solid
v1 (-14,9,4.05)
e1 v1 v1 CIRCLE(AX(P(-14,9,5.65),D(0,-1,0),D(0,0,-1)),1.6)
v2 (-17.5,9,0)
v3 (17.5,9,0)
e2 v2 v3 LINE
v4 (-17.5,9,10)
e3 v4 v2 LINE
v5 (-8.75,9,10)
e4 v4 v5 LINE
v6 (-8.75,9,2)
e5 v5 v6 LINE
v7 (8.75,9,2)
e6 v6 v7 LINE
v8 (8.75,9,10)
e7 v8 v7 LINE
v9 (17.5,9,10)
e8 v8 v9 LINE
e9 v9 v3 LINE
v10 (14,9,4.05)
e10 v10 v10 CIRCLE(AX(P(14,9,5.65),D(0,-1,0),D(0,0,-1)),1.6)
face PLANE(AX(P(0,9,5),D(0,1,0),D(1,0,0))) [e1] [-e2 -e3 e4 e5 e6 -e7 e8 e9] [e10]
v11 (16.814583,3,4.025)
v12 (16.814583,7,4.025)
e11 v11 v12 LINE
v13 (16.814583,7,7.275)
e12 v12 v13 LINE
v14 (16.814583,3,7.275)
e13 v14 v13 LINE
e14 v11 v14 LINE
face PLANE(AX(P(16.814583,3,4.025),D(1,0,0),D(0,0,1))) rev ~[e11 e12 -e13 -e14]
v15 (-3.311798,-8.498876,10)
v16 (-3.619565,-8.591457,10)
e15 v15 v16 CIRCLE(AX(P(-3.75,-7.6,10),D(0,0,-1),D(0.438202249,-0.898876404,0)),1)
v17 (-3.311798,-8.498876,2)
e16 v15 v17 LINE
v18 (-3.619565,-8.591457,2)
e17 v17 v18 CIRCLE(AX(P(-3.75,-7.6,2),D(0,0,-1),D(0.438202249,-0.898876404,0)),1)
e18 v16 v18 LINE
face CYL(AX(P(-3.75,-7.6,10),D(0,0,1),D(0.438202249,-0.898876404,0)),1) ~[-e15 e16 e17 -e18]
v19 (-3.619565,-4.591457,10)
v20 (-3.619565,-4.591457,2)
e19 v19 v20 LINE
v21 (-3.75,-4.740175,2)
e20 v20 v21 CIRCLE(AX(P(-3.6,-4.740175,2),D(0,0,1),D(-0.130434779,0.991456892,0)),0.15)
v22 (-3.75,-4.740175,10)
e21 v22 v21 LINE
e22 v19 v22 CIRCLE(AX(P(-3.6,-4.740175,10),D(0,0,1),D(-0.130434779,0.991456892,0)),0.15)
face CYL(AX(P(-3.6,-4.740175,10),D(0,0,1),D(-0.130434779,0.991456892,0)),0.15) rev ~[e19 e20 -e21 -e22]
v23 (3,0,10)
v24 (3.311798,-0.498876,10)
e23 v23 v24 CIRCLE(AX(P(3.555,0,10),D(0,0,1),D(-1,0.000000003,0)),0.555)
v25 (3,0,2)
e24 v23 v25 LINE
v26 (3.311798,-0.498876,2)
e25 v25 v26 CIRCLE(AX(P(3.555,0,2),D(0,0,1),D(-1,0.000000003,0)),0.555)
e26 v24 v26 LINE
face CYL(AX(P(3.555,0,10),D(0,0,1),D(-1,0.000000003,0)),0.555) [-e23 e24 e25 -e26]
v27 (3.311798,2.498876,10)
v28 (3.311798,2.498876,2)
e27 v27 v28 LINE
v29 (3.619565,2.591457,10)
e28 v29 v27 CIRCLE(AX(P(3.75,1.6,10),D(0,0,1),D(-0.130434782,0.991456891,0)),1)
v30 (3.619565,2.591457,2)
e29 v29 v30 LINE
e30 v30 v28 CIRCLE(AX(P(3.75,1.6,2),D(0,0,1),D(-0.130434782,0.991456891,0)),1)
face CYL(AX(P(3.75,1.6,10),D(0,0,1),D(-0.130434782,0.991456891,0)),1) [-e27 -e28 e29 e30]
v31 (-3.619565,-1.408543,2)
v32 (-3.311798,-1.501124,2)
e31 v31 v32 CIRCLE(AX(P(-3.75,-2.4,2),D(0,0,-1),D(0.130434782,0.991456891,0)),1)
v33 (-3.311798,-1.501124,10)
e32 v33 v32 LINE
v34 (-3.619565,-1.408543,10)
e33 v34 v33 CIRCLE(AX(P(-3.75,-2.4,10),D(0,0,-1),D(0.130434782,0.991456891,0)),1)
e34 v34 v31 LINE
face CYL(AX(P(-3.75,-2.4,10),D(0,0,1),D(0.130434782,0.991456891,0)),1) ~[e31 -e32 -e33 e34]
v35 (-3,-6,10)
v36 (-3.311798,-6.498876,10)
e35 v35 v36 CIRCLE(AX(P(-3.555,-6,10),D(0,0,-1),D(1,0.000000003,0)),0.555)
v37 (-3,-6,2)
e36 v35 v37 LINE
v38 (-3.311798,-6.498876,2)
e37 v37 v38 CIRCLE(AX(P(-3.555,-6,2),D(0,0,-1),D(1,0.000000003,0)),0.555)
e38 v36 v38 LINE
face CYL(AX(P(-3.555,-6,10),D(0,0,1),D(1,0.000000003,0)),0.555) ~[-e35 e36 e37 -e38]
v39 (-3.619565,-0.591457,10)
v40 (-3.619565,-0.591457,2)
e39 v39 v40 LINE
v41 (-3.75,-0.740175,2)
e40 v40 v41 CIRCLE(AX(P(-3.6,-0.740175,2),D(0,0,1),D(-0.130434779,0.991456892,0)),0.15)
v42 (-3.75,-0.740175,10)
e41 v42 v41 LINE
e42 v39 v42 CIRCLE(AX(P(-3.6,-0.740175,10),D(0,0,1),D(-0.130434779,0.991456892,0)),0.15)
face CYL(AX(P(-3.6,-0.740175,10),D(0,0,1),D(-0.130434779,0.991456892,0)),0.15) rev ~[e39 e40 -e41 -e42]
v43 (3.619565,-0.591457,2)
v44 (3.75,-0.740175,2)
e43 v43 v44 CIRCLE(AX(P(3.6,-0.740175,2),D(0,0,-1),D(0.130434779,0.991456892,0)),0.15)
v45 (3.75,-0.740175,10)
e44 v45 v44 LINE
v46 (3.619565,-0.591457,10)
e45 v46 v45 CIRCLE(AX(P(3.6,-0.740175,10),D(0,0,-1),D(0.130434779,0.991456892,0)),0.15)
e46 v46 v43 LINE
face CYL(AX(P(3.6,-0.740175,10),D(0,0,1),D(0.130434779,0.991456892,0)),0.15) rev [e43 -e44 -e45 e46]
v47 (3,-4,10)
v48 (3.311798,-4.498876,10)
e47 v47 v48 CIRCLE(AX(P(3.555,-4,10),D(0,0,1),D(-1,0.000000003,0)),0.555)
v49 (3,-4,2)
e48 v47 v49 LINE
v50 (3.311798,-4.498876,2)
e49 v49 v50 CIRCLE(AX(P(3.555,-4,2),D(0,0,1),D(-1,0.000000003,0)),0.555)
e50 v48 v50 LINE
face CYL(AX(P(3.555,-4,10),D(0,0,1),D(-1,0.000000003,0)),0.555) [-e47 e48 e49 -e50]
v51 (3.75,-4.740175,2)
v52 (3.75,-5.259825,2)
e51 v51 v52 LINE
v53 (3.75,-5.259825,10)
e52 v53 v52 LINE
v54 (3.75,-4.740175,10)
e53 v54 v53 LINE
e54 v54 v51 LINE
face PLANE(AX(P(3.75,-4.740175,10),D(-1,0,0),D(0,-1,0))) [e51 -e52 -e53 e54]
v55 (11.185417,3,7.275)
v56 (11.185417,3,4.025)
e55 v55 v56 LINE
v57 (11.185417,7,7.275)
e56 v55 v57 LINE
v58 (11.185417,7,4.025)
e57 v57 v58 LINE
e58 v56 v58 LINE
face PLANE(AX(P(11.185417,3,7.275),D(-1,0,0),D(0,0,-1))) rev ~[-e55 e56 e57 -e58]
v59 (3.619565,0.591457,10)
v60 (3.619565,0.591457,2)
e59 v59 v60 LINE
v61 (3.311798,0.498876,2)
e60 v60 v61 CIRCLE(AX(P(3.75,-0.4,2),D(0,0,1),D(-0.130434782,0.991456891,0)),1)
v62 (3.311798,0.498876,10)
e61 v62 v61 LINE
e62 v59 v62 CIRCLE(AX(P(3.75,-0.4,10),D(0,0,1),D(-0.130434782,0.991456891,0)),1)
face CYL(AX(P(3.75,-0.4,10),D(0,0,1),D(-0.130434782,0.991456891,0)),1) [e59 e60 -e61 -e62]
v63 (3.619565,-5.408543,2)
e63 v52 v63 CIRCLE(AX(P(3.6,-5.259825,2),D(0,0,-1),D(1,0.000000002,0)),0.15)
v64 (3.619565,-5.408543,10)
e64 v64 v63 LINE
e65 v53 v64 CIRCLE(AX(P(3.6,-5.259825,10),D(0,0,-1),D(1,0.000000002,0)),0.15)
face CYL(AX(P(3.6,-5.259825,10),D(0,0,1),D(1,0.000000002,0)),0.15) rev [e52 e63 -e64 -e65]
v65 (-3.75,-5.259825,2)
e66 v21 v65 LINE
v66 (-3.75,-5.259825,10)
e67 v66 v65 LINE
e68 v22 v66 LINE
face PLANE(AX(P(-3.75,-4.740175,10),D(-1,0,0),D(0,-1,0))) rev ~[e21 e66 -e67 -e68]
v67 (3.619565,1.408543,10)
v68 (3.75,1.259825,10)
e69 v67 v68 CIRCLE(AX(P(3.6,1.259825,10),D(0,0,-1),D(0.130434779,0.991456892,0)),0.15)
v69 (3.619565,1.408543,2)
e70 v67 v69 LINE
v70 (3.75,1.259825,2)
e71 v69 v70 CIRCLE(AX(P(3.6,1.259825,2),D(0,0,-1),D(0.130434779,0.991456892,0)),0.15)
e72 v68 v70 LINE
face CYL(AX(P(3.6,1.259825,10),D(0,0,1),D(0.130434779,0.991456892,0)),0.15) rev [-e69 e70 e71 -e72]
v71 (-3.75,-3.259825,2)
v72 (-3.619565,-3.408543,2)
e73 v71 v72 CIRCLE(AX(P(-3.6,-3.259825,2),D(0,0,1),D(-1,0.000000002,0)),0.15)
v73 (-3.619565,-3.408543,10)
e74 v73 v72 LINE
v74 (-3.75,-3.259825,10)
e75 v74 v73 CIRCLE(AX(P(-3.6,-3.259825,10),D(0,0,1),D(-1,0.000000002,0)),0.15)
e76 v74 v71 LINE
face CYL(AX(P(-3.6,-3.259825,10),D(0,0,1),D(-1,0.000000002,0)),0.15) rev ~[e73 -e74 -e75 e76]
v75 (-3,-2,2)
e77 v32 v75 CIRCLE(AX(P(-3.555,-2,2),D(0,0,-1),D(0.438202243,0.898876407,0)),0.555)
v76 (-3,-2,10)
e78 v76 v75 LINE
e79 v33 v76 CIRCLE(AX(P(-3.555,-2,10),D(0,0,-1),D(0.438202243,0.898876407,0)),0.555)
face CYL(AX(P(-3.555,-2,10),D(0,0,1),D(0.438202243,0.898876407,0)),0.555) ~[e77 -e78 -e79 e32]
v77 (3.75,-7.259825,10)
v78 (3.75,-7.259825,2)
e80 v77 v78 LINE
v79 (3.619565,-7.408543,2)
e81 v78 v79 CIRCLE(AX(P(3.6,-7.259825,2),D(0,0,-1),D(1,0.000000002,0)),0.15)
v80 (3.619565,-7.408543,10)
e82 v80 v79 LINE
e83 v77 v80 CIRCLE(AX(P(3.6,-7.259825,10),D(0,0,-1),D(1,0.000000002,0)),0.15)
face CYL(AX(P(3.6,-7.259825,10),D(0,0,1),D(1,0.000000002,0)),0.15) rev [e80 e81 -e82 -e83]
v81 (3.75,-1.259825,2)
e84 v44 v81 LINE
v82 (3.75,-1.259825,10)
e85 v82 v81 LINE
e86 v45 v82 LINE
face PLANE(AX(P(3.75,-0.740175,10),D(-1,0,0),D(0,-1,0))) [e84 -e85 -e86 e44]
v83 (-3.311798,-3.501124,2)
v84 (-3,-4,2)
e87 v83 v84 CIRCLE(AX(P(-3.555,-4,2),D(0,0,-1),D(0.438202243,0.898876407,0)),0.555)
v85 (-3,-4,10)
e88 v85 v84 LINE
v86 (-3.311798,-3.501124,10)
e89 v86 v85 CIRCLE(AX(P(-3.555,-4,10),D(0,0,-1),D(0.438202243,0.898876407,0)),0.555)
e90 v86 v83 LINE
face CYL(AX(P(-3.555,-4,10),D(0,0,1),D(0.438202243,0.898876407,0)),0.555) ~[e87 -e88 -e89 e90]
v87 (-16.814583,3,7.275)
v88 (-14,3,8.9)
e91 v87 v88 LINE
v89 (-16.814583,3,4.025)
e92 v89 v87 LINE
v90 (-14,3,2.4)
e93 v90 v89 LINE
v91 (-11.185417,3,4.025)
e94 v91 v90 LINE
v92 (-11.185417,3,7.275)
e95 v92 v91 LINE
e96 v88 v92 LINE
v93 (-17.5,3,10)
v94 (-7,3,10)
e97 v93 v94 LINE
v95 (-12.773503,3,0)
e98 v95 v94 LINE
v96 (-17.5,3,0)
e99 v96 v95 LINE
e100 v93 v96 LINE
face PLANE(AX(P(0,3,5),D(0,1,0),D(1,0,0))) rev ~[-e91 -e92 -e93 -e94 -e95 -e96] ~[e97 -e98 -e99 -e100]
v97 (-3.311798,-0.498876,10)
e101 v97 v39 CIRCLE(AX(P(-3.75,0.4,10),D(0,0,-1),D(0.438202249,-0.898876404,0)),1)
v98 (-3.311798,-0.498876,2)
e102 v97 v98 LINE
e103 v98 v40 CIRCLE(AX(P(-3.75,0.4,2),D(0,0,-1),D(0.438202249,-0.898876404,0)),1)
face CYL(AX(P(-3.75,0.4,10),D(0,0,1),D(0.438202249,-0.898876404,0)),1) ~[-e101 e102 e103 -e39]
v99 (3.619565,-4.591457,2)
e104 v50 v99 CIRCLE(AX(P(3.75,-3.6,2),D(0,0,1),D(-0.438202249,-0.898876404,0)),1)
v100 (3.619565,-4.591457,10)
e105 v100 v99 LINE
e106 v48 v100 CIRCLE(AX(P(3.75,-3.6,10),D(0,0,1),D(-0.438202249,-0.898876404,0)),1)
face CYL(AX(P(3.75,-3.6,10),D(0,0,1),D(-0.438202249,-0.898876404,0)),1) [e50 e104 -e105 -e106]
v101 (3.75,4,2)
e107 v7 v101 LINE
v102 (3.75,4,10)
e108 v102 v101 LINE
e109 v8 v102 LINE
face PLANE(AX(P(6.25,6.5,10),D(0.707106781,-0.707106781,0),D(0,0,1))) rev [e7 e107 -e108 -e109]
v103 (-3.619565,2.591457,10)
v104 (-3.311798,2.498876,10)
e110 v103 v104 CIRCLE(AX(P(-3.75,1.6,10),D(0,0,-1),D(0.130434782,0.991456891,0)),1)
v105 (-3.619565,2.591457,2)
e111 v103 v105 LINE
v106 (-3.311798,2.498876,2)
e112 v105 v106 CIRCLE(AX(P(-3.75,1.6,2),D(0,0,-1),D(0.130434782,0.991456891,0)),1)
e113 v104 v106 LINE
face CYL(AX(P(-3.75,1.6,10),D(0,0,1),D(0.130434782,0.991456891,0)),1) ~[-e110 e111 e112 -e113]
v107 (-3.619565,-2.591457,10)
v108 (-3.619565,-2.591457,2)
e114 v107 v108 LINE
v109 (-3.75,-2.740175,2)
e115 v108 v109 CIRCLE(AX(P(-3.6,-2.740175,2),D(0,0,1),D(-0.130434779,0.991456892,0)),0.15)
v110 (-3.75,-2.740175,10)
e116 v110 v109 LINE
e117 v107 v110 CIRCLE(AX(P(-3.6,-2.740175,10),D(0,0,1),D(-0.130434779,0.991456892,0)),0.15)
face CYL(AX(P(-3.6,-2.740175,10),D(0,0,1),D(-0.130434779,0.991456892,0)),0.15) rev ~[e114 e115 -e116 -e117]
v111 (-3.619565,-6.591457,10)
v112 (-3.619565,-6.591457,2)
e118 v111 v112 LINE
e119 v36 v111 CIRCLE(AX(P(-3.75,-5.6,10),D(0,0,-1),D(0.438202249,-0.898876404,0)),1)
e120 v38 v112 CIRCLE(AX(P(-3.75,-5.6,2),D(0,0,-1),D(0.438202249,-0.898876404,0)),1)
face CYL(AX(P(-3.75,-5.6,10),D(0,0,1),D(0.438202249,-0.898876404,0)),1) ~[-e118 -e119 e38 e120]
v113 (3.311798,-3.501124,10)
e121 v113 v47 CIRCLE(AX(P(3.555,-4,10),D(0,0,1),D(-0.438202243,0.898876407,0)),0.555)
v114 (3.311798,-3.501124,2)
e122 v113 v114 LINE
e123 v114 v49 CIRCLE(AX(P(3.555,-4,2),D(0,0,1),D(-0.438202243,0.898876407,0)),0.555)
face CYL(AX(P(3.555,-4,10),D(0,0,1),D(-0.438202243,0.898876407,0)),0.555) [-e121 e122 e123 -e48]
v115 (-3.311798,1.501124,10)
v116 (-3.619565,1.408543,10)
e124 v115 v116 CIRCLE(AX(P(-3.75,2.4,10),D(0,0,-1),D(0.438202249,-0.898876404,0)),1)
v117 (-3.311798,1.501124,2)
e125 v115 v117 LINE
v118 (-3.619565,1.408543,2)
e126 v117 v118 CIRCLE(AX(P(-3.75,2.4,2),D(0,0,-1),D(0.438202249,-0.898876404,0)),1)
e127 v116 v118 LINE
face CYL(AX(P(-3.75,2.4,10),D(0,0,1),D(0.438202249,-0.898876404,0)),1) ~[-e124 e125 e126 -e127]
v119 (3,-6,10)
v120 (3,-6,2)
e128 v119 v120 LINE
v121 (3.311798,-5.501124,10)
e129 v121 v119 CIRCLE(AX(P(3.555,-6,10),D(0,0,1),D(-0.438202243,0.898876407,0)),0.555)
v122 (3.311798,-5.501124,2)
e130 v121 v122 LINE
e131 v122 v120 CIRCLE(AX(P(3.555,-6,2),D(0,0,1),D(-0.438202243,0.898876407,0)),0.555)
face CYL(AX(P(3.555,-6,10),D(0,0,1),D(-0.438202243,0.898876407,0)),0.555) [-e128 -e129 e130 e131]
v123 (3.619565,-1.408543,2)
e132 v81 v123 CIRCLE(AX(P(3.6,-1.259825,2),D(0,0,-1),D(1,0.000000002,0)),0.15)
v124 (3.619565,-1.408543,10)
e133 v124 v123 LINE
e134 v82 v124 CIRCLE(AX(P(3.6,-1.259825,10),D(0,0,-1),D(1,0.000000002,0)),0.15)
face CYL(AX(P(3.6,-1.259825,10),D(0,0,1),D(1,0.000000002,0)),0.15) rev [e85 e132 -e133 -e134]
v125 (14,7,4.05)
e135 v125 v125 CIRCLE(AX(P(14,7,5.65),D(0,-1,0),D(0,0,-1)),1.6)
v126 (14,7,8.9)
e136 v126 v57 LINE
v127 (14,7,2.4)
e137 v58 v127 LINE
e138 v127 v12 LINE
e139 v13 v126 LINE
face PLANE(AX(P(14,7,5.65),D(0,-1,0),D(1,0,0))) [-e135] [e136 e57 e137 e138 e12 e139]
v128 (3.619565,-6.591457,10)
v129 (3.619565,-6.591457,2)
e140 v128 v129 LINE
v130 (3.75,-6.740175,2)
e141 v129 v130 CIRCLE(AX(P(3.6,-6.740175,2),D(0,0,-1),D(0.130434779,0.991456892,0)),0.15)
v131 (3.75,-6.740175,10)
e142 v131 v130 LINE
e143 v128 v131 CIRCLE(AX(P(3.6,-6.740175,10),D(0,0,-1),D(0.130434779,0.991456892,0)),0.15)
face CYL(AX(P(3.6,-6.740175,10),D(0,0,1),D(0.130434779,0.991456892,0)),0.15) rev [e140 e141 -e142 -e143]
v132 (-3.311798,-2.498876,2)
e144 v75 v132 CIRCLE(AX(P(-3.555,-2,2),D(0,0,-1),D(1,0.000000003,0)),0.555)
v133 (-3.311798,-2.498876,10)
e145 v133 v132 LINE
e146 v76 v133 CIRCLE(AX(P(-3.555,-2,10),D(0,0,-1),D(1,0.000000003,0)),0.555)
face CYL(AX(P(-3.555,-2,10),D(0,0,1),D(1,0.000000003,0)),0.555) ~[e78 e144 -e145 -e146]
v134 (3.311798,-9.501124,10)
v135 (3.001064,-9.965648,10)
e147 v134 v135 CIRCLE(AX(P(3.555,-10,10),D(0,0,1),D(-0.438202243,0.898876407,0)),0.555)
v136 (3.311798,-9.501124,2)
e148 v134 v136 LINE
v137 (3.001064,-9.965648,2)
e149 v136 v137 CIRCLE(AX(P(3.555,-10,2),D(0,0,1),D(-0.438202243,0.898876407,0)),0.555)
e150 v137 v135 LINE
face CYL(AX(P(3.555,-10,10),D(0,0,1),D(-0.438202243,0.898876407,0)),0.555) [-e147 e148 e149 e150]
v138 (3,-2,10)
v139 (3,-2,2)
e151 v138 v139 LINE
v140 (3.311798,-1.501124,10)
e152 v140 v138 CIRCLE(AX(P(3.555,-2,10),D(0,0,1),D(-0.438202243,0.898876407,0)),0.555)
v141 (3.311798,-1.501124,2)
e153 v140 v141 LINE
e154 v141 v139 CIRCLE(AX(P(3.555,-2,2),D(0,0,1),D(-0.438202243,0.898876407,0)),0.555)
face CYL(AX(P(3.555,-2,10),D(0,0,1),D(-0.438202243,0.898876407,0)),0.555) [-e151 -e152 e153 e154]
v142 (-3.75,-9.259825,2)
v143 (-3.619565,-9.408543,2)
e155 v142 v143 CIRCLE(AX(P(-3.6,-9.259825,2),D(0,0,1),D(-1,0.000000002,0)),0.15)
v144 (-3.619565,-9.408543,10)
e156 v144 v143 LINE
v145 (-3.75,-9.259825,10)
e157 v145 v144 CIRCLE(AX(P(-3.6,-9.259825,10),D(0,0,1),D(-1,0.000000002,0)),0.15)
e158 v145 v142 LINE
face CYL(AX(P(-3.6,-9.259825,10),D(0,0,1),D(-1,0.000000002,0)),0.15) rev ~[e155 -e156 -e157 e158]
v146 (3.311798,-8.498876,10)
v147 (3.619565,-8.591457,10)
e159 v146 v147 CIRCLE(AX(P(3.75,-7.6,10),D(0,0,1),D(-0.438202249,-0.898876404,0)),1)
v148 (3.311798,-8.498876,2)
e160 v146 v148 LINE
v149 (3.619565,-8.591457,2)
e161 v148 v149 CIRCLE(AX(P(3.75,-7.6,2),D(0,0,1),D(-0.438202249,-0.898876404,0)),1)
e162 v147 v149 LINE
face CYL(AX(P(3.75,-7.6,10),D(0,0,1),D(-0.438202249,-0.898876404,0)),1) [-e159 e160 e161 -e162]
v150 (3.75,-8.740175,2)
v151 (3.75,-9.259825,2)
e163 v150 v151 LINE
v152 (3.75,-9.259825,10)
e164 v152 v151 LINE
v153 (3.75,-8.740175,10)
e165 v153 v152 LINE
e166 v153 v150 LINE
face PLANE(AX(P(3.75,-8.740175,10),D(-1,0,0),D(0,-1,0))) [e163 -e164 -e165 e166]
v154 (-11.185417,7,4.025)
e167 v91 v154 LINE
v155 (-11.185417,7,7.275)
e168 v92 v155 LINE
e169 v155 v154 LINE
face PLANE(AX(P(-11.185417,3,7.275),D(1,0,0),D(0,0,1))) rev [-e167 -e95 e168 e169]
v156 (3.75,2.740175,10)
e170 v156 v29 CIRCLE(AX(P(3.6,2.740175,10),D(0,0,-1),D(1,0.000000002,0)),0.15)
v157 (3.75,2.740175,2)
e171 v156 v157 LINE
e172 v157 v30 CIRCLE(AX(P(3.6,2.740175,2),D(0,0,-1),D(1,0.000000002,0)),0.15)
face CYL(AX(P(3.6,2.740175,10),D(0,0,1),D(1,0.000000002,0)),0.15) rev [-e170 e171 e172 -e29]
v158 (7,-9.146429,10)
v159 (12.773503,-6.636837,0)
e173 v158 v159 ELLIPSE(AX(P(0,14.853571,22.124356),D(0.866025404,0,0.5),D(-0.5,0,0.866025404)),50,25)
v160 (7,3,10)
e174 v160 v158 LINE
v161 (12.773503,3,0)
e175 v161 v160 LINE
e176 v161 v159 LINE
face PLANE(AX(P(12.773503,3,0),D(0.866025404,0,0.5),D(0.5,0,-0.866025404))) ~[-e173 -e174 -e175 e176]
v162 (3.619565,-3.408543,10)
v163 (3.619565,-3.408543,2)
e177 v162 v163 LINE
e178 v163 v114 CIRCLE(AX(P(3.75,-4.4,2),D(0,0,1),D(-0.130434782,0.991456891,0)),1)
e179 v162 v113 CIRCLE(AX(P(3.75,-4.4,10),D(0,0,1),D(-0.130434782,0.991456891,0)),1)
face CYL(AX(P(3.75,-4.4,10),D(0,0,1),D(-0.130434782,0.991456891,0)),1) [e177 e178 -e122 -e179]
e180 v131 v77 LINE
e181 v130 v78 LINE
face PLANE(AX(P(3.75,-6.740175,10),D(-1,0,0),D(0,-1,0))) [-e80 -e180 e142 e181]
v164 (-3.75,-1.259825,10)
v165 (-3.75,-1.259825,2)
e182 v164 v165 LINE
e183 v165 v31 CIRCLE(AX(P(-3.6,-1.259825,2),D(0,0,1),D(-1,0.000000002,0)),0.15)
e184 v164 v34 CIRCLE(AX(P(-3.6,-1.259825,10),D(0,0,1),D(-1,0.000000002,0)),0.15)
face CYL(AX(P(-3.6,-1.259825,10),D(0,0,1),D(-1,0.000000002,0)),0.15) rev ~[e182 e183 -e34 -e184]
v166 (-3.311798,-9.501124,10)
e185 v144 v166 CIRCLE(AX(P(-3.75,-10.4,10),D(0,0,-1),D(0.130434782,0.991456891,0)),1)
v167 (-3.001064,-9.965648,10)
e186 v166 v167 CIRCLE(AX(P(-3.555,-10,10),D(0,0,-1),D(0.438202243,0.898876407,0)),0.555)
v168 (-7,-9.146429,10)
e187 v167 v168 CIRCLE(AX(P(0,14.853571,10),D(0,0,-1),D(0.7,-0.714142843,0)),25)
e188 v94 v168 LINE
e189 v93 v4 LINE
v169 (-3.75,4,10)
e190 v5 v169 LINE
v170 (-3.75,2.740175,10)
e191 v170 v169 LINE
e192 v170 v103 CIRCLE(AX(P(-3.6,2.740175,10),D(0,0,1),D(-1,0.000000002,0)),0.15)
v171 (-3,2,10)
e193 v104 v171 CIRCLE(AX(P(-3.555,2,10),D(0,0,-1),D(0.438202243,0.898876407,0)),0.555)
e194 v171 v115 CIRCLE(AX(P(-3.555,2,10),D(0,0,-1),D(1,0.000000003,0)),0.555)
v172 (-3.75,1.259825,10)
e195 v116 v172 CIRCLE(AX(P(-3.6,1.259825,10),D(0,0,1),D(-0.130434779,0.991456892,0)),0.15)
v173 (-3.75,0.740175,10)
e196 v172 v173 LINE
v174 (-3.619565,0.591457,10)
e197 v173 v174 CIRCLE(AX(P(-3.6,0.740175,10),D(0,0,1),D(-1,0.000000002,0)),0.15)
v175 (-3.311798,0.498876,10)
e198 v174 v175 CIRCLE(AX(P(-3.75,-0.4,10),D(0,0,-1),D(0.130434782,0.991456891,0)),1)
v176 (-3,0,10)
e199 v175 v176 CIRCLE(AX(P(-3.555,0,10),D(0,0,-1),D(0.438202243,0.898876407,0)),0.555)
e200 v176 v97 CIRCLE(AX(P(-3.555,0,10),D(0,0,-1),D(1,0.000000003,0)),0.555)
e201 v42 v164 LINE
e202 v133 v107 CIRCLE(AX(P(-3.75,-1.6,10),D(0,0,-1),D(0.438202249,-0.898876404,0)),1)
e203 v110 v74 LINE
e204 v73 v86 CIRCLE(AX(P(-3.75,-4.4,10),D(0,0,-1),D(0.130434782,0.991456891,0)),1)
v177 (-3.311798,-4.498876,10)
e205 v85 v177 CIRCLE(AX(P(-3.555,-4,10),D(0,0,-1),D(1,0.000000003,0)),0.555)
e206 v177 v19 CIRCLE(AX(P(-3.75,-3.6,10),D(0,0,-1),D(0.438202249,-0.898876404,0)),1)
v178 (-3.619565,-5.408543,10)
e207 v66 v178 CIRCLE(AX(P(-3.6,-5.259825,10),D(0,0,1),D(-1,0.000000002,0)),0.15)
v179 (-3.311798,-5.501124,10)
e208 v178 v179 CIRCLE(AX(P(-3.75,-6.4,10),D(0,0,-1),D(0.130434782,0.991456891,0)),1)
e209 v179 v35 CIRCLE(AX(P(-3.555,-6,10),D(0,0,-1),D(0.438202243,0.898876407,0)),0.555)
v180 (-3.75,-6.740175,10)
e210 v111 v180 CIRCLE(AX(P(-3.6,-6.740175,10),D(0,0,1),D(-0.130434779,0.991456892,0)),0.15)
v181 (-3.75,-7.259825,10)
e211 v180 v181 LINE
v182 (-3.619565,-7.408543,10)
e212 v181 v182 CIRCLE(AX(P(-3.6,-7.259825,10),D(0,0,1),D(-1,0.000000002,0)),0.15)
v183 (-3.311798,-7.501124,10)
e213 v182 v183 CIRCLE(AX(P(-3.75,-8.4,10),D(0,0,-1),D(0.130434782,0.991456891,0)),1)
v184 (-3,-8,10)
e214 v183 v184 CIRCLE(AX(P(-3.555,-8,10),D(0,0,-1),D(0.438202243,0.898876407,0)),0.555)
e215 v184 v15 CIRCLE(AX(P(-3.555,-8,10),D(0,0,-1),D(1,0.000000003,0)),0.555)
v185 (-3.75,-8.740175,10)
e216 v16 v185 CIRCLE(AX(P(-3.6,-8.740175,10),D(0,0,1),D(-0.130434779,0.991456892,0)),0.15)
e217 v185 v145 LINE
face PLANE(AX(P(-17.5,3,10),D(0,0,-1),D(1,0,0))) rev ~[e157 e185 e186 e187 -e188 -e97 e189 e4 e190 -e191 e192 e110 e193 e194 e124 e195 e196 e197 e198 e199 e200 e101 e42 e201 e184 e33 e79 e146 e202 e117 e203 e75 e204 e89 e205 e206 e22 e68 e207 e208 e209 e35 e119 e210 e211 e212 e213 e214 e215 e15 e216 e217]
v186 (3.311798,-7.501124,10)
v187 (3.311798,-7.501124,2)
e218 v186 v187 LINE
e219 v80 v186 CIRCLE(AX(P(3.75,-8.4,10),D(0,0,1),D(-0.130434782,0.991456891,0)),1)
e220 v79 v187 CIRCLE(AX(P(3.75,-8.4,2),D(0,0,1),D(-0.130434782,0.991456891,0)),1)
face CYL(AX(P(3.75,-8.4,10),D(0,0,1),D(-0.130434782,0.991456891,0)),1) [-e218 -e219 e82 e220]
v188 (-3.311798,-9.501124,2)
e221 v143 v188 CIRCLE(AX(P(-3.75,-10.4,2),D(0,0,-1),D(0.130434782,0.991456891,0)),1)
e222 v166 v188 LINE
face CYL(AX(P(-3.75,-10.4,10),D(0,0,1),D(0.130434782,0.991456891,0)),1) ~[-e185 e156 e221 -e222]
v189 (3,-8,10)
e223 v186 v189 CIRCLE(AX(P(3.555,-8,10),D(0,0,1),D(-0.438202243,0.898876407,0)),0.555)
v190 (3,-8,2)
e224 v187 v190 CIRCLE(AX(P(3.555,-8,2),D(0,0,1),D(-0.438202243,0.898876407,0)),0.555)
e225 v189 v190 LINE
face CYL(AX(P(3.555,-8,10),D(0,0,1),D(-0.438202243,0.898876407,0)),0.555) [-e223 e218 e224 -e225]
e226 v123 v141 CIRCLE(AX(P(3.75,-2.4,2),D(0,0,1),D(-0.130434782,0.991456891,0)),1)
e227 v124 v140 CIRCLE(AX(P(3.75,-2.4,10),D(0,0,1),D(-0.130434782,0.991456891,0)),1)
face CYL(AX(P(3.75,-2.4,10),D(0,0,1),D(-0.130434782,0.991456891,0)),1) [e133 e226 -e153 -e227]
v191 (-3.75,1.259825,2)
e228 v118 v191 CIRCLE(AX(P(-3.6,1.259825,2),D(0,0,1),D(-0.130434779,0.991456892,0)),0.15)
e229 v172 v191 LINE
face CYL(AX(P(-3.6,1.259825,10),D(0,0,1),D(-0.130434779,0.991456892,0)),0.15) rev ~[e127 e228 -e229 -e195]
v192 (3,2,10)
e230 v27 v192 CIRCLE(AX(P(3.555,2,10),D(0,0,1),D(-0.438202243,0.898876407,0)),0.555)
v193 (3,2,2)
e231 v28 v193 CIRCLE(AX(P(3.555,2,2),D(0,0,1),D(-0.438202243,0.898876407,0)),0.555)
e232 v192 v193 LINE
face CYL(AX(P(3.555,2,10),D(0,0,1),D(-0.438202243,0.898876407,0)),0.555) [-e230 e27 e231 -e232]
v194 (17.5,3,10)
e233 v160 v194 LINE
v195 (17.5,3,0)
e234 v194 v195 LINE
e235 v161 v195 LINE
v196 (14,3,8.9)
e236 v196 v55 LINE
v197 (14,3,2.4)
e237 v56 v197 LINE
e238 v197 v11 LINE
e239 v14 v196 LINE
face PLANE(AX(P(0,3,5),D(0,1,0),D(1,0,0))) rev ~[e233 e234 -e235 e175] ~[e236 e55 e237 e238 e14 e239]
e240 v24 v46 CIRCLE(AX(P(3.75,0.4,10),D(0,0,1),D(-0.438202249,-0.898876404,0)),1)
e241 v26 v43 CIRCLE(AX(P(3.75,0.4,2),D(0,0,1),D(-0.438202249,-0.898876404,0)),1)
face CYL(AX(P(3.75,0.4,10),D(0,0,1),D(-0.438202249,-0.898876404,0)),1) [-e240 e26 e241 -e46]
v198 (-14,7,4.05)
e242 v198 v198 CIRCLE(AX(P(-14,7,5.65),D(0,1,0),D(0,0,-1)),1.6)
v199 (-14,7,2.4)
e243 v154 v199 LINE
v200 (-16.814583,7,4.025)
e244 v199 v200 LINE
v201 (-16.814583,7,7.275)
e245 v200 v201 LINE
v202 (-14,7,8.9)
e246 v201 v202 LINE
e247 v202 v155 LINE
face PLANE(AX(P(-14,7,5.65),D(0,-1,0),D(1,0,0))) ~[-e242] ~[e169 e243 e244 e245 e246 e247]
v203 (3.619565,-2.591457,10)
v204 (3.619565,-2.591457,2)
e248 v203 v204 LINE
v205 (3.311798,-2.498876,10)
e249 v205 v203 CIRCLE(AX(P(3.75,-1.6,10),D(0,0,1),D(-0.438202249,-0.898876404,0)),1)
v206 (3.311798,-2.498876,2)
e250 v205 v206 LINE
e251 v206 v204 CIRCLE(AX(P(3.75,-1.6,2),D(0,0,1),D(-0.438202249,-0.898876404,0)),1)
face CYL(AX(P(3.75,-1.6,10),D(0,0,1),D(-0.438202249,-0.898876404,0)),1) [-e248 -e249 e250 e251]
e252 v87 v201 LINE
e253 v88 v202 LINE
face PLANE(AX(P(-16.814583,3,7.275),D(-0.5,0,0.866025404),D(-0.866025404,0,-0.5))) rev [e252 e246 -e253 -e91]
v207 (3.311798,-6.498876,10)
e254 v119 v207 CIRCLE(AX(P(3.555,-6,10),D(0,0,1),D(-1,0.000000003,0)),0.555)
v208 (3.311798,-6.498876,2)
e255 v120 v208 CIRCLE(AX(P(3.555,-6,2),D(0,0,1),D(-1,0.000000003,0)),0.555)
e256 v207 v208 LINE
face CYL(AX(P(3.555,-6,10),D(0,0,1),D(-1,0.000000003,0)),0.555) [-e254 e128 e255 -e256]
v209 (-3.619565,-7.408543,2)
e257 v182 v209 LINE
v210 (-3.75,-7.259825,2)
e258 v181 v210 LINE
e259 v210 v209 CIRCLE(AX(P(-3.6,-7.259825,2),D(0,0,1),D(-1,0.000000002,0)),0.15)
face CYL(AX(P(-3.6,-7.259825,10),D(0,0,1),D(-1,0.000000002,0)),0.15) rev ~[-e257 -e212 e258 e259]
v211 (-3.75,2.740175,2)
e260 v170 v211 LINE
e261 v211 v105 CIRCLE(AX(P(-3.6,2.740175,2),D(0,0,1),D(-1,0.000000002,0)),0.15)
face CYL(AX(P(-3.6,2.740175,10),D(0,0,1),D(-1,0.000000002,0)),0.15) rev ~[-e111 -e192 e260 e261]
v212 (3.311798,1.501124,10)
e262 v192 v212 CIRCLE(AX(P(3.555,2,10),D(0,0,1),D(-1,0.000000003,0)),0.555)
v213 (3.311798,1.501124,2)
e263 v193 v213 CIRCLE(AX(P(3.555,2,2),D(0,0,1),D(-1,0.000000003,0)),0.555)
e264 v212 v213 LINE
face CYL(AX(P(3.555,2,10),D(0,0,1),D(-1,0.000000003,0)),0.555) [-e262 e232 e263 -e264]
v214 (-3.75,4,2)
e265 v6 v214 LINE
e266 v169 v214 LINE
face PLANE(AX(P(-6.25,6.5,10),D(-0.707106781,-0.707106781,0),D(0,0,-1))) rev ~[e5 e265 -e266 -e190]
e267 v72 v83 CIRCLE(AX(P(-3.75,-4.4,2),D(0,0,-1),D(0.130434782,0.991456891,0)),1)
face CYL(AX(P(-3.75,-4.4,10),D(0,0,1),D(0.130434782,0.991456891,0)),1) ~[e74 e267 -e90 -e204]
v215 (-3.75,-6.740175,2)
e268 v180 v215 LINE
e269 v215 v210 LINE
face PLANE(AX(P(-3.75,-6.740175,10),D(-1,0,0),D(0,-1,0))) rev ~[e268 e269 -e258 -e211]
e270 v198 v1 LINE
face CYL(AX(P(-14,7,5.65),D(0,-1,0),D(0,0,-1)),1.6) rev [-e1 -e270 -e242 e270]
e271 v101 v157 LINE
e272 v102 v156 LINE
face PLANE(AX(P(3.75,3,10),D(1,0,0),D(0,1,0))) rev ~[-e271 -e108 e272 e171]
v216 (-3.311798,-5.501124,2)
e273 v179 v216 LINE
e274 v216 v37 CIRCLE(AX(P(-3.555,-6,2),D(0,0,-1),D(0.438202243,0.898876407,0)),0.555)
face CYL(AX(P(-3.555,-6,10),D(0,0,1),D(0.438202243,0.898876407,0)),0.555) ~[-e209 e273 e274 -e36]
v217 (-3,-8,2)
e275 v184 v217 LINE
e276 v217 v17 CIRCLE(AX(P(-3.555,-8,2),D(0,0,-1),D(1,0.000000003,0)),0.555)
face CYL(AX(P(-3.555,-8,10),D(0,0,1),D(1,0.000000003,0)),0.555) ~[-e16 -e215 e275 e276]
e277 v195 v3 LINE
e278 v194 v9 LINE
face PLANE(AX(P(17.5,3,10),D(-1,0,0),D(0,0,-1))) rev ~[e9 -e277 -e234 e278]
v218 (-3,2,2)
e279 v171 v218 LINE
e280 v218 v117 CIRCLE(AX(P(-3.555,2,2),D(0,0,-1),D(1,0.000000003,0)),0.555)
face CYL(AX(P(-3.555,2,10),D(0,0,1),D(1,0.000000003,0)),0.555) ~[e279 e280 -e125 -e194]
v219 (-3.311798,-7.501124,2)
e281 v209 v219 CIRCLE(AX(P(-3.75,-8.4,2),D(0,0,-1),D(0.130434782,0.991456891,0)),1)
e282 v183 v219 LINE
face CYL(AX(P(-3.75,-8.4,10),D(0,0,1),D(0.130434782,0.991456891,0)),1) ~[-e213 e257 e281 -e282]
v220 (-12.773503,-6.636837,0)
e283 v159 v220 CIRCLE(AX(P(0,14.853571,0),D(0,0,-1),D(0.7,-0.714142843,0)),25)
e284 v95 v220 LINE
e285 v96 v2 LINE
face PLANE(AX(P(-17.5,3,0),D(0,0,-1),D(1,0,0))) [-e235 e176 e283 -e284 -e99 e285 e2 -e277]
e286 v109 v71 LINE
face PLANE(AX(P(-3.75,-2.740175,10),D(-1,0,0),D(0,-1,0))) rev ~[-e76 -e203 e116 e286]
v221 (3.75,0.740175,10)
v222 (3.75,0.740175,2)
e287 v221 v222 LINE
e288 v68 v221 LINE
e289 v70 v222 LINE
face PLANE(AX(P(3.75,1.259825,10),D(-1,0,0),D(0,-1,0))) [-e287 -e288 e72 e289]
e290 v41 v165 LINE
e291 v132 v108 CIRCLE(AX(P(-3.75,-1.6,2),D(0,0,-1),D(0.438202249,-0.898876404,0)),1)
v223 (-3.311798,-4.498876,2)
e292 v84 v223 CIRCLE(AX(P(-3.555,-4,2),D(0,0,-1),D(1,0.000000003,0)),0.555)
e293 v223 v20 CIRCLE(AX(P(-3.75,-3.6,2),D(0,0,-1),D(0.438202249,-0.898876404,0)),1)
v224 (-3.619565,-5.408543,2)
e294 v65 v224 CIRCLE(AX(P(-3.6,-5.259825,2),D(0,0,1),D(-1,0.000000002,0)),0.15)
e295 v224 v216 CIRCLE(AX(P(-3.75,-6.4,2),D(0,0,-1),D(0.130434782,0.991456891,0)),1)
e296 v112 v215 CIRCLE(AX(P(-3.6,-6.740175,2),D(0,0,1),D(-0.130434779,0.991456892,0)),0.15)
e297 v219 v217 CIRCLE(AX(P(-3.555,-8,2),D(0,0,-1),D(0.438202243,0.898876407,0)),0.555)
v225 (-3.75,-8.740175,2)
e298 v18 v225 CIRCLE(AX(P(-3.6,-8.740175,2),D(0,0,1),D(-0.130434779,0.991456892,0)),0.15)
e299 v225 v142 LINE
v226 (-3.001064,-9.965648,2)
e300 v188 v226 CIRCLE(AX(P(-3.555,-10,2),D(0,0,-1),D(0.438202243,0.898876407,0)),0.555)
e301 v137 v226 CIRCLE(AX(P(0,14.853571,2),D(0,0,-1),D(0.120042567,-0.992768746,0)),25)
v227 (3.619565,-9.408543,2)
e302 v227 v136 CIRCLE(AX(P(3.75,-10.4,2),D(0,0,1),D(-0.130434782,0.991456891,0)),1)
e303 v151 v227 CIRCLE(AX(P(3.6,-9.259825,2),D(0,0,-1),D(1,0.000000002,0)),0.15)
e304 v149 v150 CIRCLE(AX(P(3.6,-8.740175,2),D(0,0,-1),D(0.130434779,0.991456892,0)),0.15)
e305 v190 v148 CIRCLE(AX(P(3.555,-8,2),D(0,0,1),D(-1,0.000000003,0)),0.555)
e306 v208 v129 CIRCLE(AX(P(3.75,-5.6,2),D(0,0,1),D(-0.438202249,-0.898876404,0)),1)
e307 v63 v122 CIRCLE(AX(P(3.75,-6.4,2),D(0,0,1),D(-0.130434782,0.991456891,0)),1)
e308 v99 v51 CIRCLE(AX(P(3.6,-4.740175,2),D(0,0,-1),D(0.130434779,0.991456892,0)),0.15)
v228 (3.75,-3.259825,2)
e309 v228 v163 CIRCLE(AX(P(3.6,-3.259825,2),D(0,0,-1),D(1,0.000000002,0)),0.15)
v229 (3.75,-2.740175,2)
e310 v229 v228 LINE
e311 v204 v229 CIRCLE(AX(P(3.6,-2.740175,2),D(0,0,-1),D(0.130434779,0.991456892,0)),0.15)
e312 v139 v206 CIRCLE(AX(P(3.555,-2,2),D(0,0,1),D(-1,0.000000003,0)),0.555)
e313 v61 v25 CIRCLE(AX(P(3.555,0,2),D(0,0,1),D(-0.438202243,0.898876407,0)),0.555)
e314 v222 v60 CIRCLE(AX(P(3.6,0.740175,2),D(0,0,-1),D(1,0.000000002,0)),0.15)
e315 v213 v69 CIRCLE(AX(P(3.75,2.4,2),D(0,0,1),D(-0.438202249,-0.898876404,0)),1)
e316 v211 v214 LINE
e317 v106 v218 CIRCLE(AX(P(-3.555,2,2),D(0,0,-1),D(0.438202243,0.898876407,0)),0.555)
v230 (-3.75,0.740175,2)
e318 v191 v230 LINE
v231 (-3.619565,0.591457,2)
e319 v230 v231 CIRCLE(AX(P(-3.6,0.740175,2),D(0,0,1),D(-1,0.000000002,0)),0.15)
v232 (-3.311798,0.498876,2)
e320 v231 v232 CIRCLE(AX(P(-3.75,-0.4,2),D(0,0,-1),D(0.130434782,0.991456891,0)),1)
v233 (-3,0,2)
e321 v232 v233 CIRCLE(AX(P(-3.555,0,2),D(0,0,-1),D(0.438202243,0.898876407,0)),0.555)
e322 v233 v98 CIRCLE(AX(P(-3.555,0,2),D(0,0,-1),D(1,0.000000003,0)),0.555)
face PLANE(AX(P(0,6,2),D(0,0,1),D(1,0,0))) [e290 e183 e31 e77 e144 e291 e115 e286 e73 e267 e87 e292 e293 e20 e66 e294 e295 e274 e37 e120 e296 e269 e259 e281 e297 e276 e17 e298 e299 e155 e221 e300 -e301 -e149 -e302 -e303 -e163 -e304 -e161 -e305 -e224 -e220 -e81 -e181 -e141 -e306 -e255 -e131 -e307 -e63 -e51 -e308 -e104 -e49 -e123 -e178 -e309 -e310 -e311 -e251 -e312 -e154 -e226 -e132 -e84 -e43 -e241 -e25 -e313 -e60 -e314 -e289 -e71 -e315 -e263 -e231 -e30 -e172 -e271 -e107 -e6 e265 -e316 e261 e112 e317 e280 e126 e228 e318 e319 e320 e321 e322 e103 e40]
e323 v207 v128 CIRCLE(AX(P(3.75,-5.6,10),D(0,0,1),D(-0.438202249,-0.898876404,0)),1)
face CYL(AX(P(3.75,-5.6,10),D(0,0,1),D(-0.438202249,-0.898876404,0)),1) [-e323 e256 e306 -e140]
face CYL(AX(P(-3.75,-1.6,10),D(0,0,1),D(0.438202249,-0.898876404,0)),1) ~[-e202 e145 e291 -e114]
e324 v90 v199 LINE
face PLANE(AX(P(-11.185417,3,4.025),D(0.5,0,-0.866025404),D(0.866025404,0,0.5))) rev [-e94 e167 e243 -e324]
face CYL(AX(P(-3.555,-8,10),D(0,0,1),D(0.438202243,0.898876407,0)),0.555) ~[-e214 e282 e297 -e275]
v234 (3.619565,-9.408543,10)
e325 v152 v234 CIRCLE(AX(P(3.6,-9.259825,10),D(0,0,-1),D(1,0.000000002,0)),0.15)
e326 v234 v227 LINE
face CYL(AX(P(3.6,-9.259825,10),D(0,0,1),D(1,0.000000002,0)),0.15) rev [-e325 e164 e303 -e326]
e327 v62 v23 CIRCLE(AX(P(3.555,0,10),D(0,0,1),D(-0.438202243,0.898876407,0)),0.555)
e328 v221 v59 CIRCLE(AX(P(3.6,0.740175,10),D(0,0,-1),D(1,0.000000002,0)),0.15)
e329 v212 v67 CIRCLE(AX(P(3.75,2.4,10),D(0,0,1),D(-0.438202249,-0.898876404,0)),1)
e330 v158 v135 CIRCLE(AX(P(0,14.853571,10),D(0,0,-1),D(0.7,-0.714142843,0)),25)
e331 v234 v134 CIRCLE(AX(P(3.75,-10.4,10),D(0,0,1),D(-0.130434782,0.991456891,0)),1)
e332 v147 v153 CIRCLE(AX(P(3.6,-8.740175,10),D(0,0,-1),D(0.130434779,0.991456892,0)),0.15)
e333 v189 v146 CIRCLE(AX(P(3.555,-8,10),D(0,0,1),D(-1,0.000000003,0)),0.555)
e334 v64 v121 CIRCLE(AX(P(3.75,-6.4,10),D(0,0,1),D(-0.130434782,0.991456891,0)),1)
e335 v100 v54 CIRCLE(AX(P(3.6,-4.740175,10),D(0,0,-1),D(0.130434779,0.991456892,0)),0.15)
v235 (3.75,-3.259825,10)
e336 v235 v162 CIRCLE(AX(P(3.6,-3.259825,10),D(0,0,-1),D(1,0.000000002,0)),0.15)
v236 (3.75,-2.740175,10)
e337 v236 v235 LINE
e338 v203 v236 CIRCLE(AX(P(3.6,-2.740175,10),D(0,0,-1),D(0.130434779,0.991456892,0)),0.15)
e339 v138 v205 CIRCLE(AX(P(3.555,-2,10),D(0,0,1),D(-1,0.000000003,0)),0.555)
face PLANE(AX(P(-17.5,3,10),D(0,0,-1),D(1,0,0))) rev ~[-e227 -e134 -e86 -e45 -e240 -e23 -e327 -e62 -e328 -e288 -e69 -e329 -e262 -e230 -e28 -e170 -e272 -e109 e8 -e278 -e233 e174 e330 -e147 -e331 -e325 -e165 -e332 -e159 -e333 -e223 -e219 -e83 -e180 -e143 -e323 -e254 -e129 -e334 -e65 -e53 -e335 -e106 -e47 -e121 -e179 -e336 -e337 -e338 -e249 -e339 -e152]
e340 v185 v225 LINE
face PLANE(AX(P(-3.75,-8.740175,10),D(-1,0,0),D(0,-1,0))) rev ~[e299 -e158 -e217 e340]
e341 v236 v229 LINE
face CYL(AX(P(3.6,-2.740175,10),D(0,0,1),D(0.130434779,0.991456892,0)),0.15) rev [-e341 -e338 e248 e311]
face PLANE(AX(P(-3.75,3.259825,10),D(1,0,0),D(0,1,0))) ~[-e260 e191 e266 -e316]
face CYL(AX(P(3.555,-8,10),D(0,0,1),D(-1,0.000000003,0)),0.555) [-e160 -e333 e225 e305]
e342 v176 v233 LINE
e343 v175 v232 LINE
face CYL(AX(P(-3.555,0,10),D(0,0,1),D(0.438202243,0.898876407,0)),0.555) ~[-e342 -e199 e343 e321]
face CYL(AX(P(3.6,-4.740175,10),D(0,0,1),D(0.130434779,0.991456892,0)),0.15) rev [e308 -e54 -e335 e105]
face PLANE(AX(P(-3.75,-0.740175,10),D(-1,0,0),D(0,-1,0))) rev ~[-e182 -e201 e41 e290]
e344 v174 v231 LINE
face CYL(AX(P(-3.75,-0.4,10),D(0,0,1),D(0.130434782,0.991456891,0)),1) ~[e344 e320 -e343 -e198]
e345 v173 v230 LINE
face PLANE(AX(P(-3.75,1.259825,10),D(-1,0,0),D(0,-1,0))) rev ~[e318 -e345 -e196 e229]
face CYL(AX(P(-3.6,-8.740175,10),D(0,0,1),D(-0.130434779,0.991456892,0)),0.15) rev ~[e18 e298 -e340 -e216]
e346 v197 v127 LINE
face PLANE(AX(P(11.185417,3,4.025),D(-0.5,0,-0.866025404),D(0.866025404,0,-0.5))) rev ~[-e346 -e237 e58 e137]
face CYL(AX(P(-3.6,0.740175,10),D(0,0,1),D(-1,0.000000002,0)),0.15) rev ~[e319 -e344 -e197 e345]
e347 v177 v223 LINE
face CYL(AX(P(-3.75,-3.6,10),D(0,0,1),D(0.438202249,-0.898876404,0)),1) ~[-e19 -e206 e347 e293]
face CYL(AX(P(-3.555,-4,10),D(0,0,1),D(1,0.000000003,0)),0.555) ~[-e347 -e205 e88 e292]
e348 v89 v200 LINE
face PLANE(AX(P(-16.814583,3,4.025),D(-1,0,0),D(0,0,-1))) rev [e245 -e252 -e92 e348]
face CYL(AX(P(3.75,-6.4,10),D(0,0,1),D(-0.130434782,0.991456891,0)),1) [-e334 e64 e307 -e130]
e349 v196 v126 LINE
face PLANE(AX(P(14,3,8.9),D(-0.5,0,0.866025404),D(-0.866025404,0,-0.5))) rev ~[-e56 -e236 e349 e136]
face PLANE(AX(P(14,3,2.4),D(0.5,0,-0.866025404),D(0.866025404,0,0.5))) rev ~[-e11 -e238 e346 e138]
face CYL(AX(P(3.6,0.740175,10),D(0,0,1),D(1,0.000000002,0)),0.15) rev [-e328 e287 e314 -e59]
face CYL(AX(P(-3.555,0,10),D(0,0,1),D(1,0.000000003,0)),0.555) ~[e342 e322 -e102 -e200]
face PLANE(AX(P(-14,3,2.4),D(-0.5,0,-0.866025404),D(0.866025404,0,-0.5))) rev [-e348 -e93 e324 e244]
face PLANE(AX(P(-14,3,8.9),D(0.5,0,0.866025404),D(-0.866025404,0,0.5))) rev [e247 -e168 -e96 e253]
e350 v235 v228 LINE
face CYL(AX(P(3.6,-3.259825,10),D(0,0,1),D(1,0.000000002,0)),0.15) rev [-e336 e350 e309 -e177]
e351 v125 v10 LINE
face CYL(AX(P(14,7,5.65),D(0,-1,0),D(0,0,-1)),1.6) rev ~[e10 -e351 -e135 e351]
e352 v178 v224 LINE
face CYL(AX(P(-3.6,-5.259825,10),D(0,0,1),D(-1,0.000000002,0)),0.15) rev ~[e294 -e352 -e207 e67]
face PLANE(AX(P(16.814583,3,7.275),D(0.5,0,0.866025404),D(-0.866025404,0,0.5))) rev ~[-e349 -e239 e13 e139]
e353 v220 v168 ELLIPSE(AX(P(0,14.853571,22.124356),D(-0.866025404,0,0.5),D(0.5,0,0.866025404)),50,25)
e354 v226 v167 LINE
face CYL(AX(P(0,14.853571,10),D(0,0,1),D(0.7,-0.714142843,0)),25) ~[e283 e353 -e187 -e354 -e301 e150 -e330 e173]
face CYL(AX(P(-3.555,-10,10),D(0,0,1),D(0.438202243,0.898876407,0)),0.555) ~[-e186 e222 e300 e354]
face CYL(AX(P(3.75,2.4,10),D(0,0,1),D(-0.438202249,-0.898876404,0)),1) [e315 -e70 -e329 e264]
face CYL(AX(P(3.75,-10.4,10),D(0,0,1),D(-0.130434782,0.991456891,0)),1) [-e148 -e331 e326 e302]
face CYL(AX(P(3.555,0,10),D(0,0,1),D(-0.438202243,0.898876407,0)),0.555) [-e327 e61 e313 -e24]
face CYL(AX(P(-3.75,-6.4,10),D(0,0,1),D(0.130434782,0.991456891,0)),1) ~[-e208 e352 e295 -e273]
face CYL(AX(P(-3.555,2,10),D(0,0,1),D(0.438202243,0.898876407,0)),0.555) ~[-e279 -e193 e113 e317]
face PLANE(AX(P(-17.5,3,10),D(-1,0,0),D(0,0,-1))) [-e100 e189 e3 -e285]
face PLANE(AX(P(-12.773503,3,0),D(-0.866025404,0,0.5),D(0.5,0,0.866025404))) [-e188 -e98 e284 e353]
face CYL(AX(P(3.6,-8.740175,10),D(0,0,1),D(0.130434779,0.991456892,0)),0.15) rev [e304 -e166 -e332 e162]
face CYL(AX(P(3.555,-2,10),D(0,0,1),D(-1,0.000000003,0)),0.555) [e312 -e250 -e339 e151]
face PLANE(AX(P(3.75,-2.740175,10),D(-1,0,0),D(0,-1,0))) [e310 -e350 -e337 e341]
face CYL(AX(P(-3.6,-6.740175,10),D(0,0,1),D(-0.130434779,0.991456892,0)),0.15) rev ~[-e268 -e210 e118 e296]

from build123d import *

# Parameters (mm, degrees)
SKETCH1_W            = 35
SKETCH1_H            = 6
BOSS_EXTRUDE1_DEPTH  = 10
BOSS_EXTRUDE2_DEPTH  = 10
SKETCH4_W            = 6
SKETCH4_H            = 13.146428929
CUT_EXTRUDE1_DEPTH   = 8
CUT_EXTRUDE2_DEPTH   = 8
LPATTERN2_COUNT      = 10
LPATTERN2_PITCH      = 2
MIRROR1_COPY_1_DEPTH = 8
MIRROR1_COPY_2_DEPTH = 8
MIRROR1_COPY_3_DEPTH = 8
MIRROR1_COPY_4_DEPTH = 8
MIRROR1_COPY_5_DEPTH = 8
MIRROR1_COPY_6_DEPTH = 8
MIRROR1_COPY_7_DEPTH = 8
MIRROR1_COPY_8_DEPTH = 8
MIRROR1_COPY_9_DEPTH = 8
CUT_EXTRUDE3_DEPTH   = 25.064051894
SKETCH7_W            = 35
SKETCH7_H            = 10
BOSS_EXTRUDE3_DEPTH  = 6
SKETCH8_W            = 7.5
SKETCH8_H            = 6
CUT_EXTRUDE4_DEPTH   = 8
CUT_EXTRUDE5_DEPTH   = 4
SKETCH10_R           = 1.6
CUT_EXTRUDE6_DEPTH   = 27.462237717
CHAMFER1_SIZE        = 5


with BuildPart() as part:
    # Sketch1 → Boss-Extrude1 (new body)
    with BuildSketch(Plane.XY):
        Rectangle(SKETCH1_W, SKETCH1_H)
    extrude(amount=BOSS_EXTRUDE1_DEPTH)

    # Sketch2 → Boss-Extrude2 (add)
    with BuildSketch(Plane.XY.offset(10)):
        with BuildLine():
            Line((-17.5, -3), (17.5, -3))
            ThreePointArc((17.5, -3), (0, -10.146428929), (-17.5, -3))
        make_face()
    extrude(amount=-BOSS_EXTRUDE2_DEPTH)

    # Sketch4 → Cut-Extrude1 (cut)
    with BuildSketch(Plane.XY.offset(10)):
        with Locations((0, -3.573214465)):
            Rectangle(SKETCH4_W, SKETCH4_H)
    extrude(amount=-CUT_EXTRUDE1_DEPTH, mode=Mode.SUBTRACT)

    # Sketch5 → Cut-Extrude2 (cut)
    with BuildSketch(Plane.XY.offset(10)):
        with BuildLine():
            Line((3, 2), (3, 4))
            ThreePointArc((3, 4), (3.084360941, 3.705850588), (3.311797753, 3.501123596))
            ThreePointArc((3.311797753, 3.501123596), (3.461937846, 3.442388286), (3.619565217, 3.408543109))
            ThreePointArc((3.619565217, 3.408543109), (3.712771412, 3.358731646), (3.75, 3.259824575))
            Line((3.75, 3.259824575), (3.75, 2.740175425))
            ThreePointArc((3.75, 2.740175425), (3.712771412, 2.641268354), (3.619565217, 2.591456891))
            ThreePointArc((3.619565217, 2.591456891), (3.461937846, 2.557611714), (3.311797753, 2.498876404))
            ThreePointArc((3.311797753, 2.498876404), (3.084360941, 2.294149412), (3, 2))
        make_face()
    cut_extrude2 = extrude(amount=-CUT_EXTRUDE2_DEPTH, mode=Mode.SUBTRACT)

    # LPattern2: Cut-Extrude2 ×10
    with Locations(*[(0, -i * LPATTERN2_PITCH, 0) for i in range(1, LPATTERN2_COUNT)]):
        add(cut_extrude2, mode=Mode.SUBTRACT)

    # Mirror1: Cut-Extrude2 across plane
    add(cut_extrude2.mirror(Plane(origin=(0, 0, 0), x_dir=(0, 0, 1), z_dir=(1, 0, 0))), mode=Mode.SUBTRACT)

    # Mirror1 copy 1 sketch → Mirror1 copy 1 (cut)
    with BuildSketch(Plane(origin=(0, -2, 10), x_dir=(-1, 0, 0), z_dir=(0, 0, 1))):
        with BuildLine():
            Line((3, -2), (3, -4))
            ThreePointArc((3, -4), (3.084360941, -3.705850588), (3.311797753, -3.501123596))
            ThreePointArc((3.311797753, -3.501123596), (3.461937846, -3.442388286), (3.619565217, -3.408543109))
            ThreePointArc((3.619565217, -3.408543109), (3.712771412, -3.358731646), (3.75, -3.259824575))
            Line((3.75, -3.259824575), (3.75, -2.740175425))
            ThreePointArc((3.75, -2.740175425), (3.712771412, -2.641268354), (3.619565217, -2.591456891))
            ThreePointArc((3.619565217, -2.591456891), (3.461937846, -2.557611714), (3.311797753, -2.498876404))
            ThreePointArc((3.311797753, -2.498876404), (3.084360941, -2.294149412), (3, -2))
        make_face()
    extrude(amount=-MIRROR1_COPY_1_DEPTH, mode=Mode.SUBTRACT)

    # Mirror1 copy 2 sketch → Mirror1 copy 2 (cut)
    with BuildSketch(Plane(origin=(0, -4, 10), x_dir=(-1, 0, 0), z_dir=(0, 0, 1))):
        with BuildLine():
            Line((3, -2), (3, -4))
            ThreePointArc((3, -4), (3.084360941, -3.705850588), (3.311797753, -3.501123596))
            ThreePointArc((3.311797753, -3.501123596), (3.461937846, -3.442388286), (3.619565217, -3.408543109))
            ThreePointArc((3.619565217, -3.408543109), (3.712771412, -3.358731646), (3.75, -3.259824575))
            Line((3.75, -3.259824575), (3.75, -2.740175425))
            ThreePointArc((3.75, -2.740175425), (3.712771412, -2.641268354), (3.619565217, -2.591456891))
            ThreePointArc((3.619565217, -2.591456891), (3.461937846, -2.557611714), (3.311797753, -2.498876404))
            ThreePointArc((3.311797753, -2.498876404), (3.084360941, -2.294149412), (3, -2))
        make_face()
    extrude(amount=-MIRROR1_COPY_2_DEPTH, mode=Mode.SUBTRACT)

    # Mirror1 copy 3 sketch → Mirror1 copy 3 (cut)
    with BuildSketch(Plane(origin=(0, -6, 10), x_dir=(-1, 0, 0), z_dir=(0, 0, 1))):
        with BuildLine():
            Line((3, -2), (3, -4))
            ThreePointArc((3, -4), (3.084360941, -3.705850588), (3.311797753, -3.501123596))
            ThreePointArc((3.311797753, -3.501123596), (3.461937846, -3.442388286), (3.619565217, -3.408543109))
            ThreePointArc((3.619565217, -3.408543109), (3.712771412, -3.358731646), (3.75, -3.259824575))
            Line((3.75, -3.259824575), (3.75, -2.740175425))
            ThreePointArc((3.75, -2.740175425), (3.712771412, -2.641268354), (3.619565217, -2.591456891))
            ThreePointArc((3.619565217, -2.591456891), (3.461937846, -2.557611714), (3.311797753, -2.498876404))
            ThreePointArc((3.311797753, -2.498876404), (3.084360941, -2.294149412), (3, -2))
        make_face()
    extrude(amount=-MIRROR1_COPY_3_DEPTH, mode=Mode.SUBTRACT)

    # Mirror1 copy 4 sketch → Mirror1 copy 4 (cut)
    with BuildSketch(Plane(origin=(0, -8, 10), x_dir=(-1, 0, 0), z_dir=(0, 0, 1))):
        with BuildLine():
            Line((3, -2), (3, -4))
            ThreePointArc((3, -4), (3.084360941, -3.705850588), (3.311797753, -3.501123596))
            ThreePointArc((3.311797753, -3.501123596), (3.461937846, -3.442388286), (3.619565217, -3.408543109))
            ThreePointArc((3.619565217, -3.408543109), (3.712771412, -3.358731646), (3.75, -3.259824575))
            Line((3.75, -3.259824575), (3.75, -2.740175425))
            ThreePointArc((3.75, -2.740175425), (3.712771412, -2.641268354), (3.619565217, -2.591456891))
            ThreePointArc((3.619565217, -2.591456891), (3.461937846, -2.557611714), (3.311797753, -2.498876404))
            ThreePointArc((3.311797753, -2.498876404), (3.084360941, -2.294149412), (3, -2))
        make_face()
    extrude(amount=-MIRROR1_COPY_4_DEPTH, mode=Mode.SUBTRACT)

    # Mirror1 copy 5 sketch → Mirror1 copy 5 (cut)
    with BuildSketch(Plane(origin=(0, -10, 10), x_dir=(-1, 0, 0), z_dir=(0, 0, 1))):
        with BuildLine():
            Line((3, -2), (3, -4))
            ThreePointArc((3, -4), (3.084360941, -3.705850588), (3.311797753, -3.501123596))
            ThreePointArc((3.311797753, -3.501123596), (3.461937846, -3.442388286), (3.619565217, -3.408543109))
            ThreePointArc((3.619565217, -3.408543109), (3.712771412, -3.358731646), (3.75, -3.259824575))
            Line((3.75, -3.259824575), (3.75, -2.740175425))
            ThreePointArc((3.75, -2.740175425), (3.712771412, -2.641268354), (3.619565217, -2.591456891))
            ThreePointArc((3.619565217, -2.591456891), (3.461937846, -2.557611714), (3.311797753, -2.498876404))
            ThreePointArc((3.311797753, -2.498876404), (3.084360941, -2.294149412), (3, -2))
        make_face()
    extrude(amount=-MIRROR1_COPY_5_DEPTH, mode=Mode.SUBTRACT)

    # Mirror1 copy 6 sketch → Mirror1 copy 6 (cut)
    with BuildSketch(Plane(origin=(0, -12, 10), x_dir=(-1, 0, 0), z_dir=(0, 0, 1))):
        with BuildLine():
            Line((3, -2), (3, -4))
            ThreePointArc((3, -4), (3.084360941, -3.705850588), (3.311797753, -3.501123596))
            ThreePointArc((3.311797753, -3.501123596), (3.461937846, -3.442388286), (3.619565217, -3.408543109))
            ThreePointArc((3.619565217, -3.408543109), (3.712771412, -3.358731646), (3.75, -3.259824575))
            Line((3.75, -3.259824575), (3.75, -2.740175425))
            ThreePointArc((3.75, -2.740175425), (3.712771412, -2.641268354), (3.619565217, -2.591456891))
            ThreePointArc((3.619565217, -2.591456891), (3.461937846, -2.557611714), (3.311797753, -2.498876404))
            ThreePointArc((3.311797753, -2.498876404), (3.084360941, -2.294149412), (3, -2))
        make_face()
    extrude(amount=-MIRROR1_COPY_6_DEPTH, mode=Mode.SUBTRACT)

    # Mirror1 copy 7 sketch → Mirror1 copy 7 (cut)
    with BuildSketch(Plane(origin=(0, -14, 10), x_dir=(-1, 0, 0), z_dir=(0, 0, 1))):
        with BuildLine():
            Line((3, -2), (3, -4))
            ThreePointArc((3, -4), (3.084360941, -3.705850588), (3.311797753, -3.501123596))
            ThreePointArc((3.311797753, -3.501123596), (3.461937846, -3.442388286), (3.619565217, -3.408543109))
            ThreePointArc((3.619565217, -3.408543109), (3.712771412, -3.358731646), (3.75, -3.259824575))
            Line((3.75, -3.259824575), (3.75, -2.740175425))
            ThreePointArc((3.75, -2.740175425), (3.712771412, -2.641268354), (3.619565217, -2.591456891))
            ThreePointArc((3.619565217, -2.591456891), (3.461937846, -2.557611714), (3.311797753, -2.498876404))
            ThreePointArc((3.311797753, -2.498876404), (3.084360941, -2.294149412), (3, -2))
        make_face()
    extrude(amount=-MIRROR1_COPY_7_DEPTH, mode=Mode.SUBTRACT)

    # Mirror1 copy 8 sketch → Mirror1 copy 8 (cut)
    with BuildSketch(Plane(origin=(0, -16, 10), x_dir=(-1, 0, 0), z_dir=(0, 0, 1))):
        with BuildLine():
            Line((3, -2), (3, -4))
            ThreePointArc((3, -4), (3.084360941, -3.705850588), (3.311797753, -3.501123596))
            ThreePointArc((3.311797753, -3.501123596), (3.461937846, -3.442388286), (3.619565217, -3.408543109))
            ThreePointArc((3.619565217, -3.408543109), (3.712771412, -3.358731646), (3.75, -3.259824575))
            Line((3.75, -3.259824575), (3.75, -2.740175425))
            ThreePointArc((3.75, -2.740175425), (3.712771412, -2.641268354), (3.619565217, -2.591456891))
            ThreePointArc((3.619565217, -2.591456891), (3.461937846, -2.557611714), (3.311797753, -2.498876404))
            ThreePointArc((3.311797753, -2.498876404), (3.084360941, -2.294149412), (3, -2))
        make_face()
    extrude(amount=-MIRROR1_COPY_8_DEPTH, mode=Mode.SUBTRACT)

    # Mirror1 copy 9 sketch → Mirror1 copy 9 (cut)
    with BuildSketch(Plane(origin=(0, -18, 10), x_dir=(-1, 0, 0), z_dir=(0, 0, 1))):
        with BuildLine():
            Line((3, -2), (3, -4))
            ThreePointArc((3, -4), (3.084360941, -3.705850588), (3.311797753, -3.501123596))
            ThreePointArc((3.311797753, -3.501123596), (3.461937846, -3.442388286), (3.619565217, -3.408543109))
            ThreePointArc((3.619565217, -3.408543109), (3.712771412, -3.358731646), (3.75, -3.259824575))
            Line((3.75, -3.259824575), (3.75, -2.740175425))
            ThreePointArc((3.75, -2.740175425), (3.712771412, -2.641268354), (3.619565217, -2.591456891))
            ThreePointArc((3.619565217, -2.591456891), (3.461937846, -2.557611714), (3.311797753, -2.498876404))
            ThreePointArc((3.311797753, -2.498876404), (3.084360941, -2.294149412), (3, -2))
        make_face()
    extrude(amount=-MIRROR1_COPY_9_DEPTH, mode=Mode.SUBTRACT)

    # Sketch6 → Cut-Extrude3 (cut, through all)
    with BuildSketch(Plane(origin=(0, 3, 0), x_dir=(1, 0, 0), z_dir=(0, 1, 0))):
        Polygon((-17.5, 0), (-12.773502692, 0), (-7, -10), (-17.5, -10), align=None)
    cut_extrude3 = extrude(amount=-CUT_EXTRUDE3_DEPTH, mode=Mode.SUBTRACT)

    # Mirror2: Cut-Extrude3 across plane
    add(cut_extrude3.mirror(Plane(origin=(0, 0, 0), x_dir=(0, 0, 1), z_dir=(1, 0, 0))), mode=Mode.SUBTRACT)

    # Sketch7 → Boss-Extrude3 (add)
    with BuildSketch(Plane(origin=(0, 3, 0), x_dir=(1, 0, 0), z_dir=(0, 1, 0))):
        with Locations((0, -5)):
            Rectangle(SKETCH7_W, SKETCH7_H)
    extrude(amount=BOSS_EXTRUDE3_DEPTH)

    # Sketch8 → Cut-Extrude4 (cut)
    with BuildSketch(Plane.XY.offset(10)):
        with Locations((0, 6)):
            Rectangle(SKETCH8_W, SKETCH8_H)
    extrude(amount=-CUT_EXTRUDE4_DEPTH, mode=Mode.SUBTRACT)

    # Sketch9 → Cut-Extrude5 (cut)
    with BuildSketch(Plane.XZ.offset(-3)):
        Polygon((16.814582562, 4.025), (16.814582562, 7.275), (14, 8.9), (11.185417438, 7.275), (11.185417438, 4.025), (14, 2.4), align=None)
    cut_extrude5 = extrude(amount=-CUT_EXTRUDE5_DEPTH, mode=Mode.SUBTRACT)

    # Mirror3: Cut-Extrude5 across plane
    add(cut_extrude5.mirror(Plane(origin=(0, 0, 0), x_dir=(0, 0, 1), z_dir=(1, 0, 0))), mode=Mode.SUBTRACT)

    # Sketch10 → Cut-Extrude6 (cut, through all)
    with BuildSketch(Plane.XZ.offset(-7)):
        with Locations(Location((14, 5.65, 0), (0, 0, 270))):
            Circle(SKETCH10_R)
    cut_extrude6 = extrude(amount=-CUT_EXTRUDE6_DEPTH, mode=Mode.SUBTRACT)

    # Mirror4: Cut-Extrude6 across plane
    add(cut_extrude6.mirror(Plane(origin=(0, 0, 0), x_dir=(0, 0, 1), z_dir=(1, 0, 0))), mode=Mode.SUBTRACT)

    # Chamfer1
    chamfer1_edges = [part.edges().sort_by_distance(p)[0] for p in [
        (-3.75, 9, 6),
        (3.75, 9, 6),
    ]]
    chamfer(chamfer1_edges, length=CHAMFER1_SIZE)


solid = part.part
